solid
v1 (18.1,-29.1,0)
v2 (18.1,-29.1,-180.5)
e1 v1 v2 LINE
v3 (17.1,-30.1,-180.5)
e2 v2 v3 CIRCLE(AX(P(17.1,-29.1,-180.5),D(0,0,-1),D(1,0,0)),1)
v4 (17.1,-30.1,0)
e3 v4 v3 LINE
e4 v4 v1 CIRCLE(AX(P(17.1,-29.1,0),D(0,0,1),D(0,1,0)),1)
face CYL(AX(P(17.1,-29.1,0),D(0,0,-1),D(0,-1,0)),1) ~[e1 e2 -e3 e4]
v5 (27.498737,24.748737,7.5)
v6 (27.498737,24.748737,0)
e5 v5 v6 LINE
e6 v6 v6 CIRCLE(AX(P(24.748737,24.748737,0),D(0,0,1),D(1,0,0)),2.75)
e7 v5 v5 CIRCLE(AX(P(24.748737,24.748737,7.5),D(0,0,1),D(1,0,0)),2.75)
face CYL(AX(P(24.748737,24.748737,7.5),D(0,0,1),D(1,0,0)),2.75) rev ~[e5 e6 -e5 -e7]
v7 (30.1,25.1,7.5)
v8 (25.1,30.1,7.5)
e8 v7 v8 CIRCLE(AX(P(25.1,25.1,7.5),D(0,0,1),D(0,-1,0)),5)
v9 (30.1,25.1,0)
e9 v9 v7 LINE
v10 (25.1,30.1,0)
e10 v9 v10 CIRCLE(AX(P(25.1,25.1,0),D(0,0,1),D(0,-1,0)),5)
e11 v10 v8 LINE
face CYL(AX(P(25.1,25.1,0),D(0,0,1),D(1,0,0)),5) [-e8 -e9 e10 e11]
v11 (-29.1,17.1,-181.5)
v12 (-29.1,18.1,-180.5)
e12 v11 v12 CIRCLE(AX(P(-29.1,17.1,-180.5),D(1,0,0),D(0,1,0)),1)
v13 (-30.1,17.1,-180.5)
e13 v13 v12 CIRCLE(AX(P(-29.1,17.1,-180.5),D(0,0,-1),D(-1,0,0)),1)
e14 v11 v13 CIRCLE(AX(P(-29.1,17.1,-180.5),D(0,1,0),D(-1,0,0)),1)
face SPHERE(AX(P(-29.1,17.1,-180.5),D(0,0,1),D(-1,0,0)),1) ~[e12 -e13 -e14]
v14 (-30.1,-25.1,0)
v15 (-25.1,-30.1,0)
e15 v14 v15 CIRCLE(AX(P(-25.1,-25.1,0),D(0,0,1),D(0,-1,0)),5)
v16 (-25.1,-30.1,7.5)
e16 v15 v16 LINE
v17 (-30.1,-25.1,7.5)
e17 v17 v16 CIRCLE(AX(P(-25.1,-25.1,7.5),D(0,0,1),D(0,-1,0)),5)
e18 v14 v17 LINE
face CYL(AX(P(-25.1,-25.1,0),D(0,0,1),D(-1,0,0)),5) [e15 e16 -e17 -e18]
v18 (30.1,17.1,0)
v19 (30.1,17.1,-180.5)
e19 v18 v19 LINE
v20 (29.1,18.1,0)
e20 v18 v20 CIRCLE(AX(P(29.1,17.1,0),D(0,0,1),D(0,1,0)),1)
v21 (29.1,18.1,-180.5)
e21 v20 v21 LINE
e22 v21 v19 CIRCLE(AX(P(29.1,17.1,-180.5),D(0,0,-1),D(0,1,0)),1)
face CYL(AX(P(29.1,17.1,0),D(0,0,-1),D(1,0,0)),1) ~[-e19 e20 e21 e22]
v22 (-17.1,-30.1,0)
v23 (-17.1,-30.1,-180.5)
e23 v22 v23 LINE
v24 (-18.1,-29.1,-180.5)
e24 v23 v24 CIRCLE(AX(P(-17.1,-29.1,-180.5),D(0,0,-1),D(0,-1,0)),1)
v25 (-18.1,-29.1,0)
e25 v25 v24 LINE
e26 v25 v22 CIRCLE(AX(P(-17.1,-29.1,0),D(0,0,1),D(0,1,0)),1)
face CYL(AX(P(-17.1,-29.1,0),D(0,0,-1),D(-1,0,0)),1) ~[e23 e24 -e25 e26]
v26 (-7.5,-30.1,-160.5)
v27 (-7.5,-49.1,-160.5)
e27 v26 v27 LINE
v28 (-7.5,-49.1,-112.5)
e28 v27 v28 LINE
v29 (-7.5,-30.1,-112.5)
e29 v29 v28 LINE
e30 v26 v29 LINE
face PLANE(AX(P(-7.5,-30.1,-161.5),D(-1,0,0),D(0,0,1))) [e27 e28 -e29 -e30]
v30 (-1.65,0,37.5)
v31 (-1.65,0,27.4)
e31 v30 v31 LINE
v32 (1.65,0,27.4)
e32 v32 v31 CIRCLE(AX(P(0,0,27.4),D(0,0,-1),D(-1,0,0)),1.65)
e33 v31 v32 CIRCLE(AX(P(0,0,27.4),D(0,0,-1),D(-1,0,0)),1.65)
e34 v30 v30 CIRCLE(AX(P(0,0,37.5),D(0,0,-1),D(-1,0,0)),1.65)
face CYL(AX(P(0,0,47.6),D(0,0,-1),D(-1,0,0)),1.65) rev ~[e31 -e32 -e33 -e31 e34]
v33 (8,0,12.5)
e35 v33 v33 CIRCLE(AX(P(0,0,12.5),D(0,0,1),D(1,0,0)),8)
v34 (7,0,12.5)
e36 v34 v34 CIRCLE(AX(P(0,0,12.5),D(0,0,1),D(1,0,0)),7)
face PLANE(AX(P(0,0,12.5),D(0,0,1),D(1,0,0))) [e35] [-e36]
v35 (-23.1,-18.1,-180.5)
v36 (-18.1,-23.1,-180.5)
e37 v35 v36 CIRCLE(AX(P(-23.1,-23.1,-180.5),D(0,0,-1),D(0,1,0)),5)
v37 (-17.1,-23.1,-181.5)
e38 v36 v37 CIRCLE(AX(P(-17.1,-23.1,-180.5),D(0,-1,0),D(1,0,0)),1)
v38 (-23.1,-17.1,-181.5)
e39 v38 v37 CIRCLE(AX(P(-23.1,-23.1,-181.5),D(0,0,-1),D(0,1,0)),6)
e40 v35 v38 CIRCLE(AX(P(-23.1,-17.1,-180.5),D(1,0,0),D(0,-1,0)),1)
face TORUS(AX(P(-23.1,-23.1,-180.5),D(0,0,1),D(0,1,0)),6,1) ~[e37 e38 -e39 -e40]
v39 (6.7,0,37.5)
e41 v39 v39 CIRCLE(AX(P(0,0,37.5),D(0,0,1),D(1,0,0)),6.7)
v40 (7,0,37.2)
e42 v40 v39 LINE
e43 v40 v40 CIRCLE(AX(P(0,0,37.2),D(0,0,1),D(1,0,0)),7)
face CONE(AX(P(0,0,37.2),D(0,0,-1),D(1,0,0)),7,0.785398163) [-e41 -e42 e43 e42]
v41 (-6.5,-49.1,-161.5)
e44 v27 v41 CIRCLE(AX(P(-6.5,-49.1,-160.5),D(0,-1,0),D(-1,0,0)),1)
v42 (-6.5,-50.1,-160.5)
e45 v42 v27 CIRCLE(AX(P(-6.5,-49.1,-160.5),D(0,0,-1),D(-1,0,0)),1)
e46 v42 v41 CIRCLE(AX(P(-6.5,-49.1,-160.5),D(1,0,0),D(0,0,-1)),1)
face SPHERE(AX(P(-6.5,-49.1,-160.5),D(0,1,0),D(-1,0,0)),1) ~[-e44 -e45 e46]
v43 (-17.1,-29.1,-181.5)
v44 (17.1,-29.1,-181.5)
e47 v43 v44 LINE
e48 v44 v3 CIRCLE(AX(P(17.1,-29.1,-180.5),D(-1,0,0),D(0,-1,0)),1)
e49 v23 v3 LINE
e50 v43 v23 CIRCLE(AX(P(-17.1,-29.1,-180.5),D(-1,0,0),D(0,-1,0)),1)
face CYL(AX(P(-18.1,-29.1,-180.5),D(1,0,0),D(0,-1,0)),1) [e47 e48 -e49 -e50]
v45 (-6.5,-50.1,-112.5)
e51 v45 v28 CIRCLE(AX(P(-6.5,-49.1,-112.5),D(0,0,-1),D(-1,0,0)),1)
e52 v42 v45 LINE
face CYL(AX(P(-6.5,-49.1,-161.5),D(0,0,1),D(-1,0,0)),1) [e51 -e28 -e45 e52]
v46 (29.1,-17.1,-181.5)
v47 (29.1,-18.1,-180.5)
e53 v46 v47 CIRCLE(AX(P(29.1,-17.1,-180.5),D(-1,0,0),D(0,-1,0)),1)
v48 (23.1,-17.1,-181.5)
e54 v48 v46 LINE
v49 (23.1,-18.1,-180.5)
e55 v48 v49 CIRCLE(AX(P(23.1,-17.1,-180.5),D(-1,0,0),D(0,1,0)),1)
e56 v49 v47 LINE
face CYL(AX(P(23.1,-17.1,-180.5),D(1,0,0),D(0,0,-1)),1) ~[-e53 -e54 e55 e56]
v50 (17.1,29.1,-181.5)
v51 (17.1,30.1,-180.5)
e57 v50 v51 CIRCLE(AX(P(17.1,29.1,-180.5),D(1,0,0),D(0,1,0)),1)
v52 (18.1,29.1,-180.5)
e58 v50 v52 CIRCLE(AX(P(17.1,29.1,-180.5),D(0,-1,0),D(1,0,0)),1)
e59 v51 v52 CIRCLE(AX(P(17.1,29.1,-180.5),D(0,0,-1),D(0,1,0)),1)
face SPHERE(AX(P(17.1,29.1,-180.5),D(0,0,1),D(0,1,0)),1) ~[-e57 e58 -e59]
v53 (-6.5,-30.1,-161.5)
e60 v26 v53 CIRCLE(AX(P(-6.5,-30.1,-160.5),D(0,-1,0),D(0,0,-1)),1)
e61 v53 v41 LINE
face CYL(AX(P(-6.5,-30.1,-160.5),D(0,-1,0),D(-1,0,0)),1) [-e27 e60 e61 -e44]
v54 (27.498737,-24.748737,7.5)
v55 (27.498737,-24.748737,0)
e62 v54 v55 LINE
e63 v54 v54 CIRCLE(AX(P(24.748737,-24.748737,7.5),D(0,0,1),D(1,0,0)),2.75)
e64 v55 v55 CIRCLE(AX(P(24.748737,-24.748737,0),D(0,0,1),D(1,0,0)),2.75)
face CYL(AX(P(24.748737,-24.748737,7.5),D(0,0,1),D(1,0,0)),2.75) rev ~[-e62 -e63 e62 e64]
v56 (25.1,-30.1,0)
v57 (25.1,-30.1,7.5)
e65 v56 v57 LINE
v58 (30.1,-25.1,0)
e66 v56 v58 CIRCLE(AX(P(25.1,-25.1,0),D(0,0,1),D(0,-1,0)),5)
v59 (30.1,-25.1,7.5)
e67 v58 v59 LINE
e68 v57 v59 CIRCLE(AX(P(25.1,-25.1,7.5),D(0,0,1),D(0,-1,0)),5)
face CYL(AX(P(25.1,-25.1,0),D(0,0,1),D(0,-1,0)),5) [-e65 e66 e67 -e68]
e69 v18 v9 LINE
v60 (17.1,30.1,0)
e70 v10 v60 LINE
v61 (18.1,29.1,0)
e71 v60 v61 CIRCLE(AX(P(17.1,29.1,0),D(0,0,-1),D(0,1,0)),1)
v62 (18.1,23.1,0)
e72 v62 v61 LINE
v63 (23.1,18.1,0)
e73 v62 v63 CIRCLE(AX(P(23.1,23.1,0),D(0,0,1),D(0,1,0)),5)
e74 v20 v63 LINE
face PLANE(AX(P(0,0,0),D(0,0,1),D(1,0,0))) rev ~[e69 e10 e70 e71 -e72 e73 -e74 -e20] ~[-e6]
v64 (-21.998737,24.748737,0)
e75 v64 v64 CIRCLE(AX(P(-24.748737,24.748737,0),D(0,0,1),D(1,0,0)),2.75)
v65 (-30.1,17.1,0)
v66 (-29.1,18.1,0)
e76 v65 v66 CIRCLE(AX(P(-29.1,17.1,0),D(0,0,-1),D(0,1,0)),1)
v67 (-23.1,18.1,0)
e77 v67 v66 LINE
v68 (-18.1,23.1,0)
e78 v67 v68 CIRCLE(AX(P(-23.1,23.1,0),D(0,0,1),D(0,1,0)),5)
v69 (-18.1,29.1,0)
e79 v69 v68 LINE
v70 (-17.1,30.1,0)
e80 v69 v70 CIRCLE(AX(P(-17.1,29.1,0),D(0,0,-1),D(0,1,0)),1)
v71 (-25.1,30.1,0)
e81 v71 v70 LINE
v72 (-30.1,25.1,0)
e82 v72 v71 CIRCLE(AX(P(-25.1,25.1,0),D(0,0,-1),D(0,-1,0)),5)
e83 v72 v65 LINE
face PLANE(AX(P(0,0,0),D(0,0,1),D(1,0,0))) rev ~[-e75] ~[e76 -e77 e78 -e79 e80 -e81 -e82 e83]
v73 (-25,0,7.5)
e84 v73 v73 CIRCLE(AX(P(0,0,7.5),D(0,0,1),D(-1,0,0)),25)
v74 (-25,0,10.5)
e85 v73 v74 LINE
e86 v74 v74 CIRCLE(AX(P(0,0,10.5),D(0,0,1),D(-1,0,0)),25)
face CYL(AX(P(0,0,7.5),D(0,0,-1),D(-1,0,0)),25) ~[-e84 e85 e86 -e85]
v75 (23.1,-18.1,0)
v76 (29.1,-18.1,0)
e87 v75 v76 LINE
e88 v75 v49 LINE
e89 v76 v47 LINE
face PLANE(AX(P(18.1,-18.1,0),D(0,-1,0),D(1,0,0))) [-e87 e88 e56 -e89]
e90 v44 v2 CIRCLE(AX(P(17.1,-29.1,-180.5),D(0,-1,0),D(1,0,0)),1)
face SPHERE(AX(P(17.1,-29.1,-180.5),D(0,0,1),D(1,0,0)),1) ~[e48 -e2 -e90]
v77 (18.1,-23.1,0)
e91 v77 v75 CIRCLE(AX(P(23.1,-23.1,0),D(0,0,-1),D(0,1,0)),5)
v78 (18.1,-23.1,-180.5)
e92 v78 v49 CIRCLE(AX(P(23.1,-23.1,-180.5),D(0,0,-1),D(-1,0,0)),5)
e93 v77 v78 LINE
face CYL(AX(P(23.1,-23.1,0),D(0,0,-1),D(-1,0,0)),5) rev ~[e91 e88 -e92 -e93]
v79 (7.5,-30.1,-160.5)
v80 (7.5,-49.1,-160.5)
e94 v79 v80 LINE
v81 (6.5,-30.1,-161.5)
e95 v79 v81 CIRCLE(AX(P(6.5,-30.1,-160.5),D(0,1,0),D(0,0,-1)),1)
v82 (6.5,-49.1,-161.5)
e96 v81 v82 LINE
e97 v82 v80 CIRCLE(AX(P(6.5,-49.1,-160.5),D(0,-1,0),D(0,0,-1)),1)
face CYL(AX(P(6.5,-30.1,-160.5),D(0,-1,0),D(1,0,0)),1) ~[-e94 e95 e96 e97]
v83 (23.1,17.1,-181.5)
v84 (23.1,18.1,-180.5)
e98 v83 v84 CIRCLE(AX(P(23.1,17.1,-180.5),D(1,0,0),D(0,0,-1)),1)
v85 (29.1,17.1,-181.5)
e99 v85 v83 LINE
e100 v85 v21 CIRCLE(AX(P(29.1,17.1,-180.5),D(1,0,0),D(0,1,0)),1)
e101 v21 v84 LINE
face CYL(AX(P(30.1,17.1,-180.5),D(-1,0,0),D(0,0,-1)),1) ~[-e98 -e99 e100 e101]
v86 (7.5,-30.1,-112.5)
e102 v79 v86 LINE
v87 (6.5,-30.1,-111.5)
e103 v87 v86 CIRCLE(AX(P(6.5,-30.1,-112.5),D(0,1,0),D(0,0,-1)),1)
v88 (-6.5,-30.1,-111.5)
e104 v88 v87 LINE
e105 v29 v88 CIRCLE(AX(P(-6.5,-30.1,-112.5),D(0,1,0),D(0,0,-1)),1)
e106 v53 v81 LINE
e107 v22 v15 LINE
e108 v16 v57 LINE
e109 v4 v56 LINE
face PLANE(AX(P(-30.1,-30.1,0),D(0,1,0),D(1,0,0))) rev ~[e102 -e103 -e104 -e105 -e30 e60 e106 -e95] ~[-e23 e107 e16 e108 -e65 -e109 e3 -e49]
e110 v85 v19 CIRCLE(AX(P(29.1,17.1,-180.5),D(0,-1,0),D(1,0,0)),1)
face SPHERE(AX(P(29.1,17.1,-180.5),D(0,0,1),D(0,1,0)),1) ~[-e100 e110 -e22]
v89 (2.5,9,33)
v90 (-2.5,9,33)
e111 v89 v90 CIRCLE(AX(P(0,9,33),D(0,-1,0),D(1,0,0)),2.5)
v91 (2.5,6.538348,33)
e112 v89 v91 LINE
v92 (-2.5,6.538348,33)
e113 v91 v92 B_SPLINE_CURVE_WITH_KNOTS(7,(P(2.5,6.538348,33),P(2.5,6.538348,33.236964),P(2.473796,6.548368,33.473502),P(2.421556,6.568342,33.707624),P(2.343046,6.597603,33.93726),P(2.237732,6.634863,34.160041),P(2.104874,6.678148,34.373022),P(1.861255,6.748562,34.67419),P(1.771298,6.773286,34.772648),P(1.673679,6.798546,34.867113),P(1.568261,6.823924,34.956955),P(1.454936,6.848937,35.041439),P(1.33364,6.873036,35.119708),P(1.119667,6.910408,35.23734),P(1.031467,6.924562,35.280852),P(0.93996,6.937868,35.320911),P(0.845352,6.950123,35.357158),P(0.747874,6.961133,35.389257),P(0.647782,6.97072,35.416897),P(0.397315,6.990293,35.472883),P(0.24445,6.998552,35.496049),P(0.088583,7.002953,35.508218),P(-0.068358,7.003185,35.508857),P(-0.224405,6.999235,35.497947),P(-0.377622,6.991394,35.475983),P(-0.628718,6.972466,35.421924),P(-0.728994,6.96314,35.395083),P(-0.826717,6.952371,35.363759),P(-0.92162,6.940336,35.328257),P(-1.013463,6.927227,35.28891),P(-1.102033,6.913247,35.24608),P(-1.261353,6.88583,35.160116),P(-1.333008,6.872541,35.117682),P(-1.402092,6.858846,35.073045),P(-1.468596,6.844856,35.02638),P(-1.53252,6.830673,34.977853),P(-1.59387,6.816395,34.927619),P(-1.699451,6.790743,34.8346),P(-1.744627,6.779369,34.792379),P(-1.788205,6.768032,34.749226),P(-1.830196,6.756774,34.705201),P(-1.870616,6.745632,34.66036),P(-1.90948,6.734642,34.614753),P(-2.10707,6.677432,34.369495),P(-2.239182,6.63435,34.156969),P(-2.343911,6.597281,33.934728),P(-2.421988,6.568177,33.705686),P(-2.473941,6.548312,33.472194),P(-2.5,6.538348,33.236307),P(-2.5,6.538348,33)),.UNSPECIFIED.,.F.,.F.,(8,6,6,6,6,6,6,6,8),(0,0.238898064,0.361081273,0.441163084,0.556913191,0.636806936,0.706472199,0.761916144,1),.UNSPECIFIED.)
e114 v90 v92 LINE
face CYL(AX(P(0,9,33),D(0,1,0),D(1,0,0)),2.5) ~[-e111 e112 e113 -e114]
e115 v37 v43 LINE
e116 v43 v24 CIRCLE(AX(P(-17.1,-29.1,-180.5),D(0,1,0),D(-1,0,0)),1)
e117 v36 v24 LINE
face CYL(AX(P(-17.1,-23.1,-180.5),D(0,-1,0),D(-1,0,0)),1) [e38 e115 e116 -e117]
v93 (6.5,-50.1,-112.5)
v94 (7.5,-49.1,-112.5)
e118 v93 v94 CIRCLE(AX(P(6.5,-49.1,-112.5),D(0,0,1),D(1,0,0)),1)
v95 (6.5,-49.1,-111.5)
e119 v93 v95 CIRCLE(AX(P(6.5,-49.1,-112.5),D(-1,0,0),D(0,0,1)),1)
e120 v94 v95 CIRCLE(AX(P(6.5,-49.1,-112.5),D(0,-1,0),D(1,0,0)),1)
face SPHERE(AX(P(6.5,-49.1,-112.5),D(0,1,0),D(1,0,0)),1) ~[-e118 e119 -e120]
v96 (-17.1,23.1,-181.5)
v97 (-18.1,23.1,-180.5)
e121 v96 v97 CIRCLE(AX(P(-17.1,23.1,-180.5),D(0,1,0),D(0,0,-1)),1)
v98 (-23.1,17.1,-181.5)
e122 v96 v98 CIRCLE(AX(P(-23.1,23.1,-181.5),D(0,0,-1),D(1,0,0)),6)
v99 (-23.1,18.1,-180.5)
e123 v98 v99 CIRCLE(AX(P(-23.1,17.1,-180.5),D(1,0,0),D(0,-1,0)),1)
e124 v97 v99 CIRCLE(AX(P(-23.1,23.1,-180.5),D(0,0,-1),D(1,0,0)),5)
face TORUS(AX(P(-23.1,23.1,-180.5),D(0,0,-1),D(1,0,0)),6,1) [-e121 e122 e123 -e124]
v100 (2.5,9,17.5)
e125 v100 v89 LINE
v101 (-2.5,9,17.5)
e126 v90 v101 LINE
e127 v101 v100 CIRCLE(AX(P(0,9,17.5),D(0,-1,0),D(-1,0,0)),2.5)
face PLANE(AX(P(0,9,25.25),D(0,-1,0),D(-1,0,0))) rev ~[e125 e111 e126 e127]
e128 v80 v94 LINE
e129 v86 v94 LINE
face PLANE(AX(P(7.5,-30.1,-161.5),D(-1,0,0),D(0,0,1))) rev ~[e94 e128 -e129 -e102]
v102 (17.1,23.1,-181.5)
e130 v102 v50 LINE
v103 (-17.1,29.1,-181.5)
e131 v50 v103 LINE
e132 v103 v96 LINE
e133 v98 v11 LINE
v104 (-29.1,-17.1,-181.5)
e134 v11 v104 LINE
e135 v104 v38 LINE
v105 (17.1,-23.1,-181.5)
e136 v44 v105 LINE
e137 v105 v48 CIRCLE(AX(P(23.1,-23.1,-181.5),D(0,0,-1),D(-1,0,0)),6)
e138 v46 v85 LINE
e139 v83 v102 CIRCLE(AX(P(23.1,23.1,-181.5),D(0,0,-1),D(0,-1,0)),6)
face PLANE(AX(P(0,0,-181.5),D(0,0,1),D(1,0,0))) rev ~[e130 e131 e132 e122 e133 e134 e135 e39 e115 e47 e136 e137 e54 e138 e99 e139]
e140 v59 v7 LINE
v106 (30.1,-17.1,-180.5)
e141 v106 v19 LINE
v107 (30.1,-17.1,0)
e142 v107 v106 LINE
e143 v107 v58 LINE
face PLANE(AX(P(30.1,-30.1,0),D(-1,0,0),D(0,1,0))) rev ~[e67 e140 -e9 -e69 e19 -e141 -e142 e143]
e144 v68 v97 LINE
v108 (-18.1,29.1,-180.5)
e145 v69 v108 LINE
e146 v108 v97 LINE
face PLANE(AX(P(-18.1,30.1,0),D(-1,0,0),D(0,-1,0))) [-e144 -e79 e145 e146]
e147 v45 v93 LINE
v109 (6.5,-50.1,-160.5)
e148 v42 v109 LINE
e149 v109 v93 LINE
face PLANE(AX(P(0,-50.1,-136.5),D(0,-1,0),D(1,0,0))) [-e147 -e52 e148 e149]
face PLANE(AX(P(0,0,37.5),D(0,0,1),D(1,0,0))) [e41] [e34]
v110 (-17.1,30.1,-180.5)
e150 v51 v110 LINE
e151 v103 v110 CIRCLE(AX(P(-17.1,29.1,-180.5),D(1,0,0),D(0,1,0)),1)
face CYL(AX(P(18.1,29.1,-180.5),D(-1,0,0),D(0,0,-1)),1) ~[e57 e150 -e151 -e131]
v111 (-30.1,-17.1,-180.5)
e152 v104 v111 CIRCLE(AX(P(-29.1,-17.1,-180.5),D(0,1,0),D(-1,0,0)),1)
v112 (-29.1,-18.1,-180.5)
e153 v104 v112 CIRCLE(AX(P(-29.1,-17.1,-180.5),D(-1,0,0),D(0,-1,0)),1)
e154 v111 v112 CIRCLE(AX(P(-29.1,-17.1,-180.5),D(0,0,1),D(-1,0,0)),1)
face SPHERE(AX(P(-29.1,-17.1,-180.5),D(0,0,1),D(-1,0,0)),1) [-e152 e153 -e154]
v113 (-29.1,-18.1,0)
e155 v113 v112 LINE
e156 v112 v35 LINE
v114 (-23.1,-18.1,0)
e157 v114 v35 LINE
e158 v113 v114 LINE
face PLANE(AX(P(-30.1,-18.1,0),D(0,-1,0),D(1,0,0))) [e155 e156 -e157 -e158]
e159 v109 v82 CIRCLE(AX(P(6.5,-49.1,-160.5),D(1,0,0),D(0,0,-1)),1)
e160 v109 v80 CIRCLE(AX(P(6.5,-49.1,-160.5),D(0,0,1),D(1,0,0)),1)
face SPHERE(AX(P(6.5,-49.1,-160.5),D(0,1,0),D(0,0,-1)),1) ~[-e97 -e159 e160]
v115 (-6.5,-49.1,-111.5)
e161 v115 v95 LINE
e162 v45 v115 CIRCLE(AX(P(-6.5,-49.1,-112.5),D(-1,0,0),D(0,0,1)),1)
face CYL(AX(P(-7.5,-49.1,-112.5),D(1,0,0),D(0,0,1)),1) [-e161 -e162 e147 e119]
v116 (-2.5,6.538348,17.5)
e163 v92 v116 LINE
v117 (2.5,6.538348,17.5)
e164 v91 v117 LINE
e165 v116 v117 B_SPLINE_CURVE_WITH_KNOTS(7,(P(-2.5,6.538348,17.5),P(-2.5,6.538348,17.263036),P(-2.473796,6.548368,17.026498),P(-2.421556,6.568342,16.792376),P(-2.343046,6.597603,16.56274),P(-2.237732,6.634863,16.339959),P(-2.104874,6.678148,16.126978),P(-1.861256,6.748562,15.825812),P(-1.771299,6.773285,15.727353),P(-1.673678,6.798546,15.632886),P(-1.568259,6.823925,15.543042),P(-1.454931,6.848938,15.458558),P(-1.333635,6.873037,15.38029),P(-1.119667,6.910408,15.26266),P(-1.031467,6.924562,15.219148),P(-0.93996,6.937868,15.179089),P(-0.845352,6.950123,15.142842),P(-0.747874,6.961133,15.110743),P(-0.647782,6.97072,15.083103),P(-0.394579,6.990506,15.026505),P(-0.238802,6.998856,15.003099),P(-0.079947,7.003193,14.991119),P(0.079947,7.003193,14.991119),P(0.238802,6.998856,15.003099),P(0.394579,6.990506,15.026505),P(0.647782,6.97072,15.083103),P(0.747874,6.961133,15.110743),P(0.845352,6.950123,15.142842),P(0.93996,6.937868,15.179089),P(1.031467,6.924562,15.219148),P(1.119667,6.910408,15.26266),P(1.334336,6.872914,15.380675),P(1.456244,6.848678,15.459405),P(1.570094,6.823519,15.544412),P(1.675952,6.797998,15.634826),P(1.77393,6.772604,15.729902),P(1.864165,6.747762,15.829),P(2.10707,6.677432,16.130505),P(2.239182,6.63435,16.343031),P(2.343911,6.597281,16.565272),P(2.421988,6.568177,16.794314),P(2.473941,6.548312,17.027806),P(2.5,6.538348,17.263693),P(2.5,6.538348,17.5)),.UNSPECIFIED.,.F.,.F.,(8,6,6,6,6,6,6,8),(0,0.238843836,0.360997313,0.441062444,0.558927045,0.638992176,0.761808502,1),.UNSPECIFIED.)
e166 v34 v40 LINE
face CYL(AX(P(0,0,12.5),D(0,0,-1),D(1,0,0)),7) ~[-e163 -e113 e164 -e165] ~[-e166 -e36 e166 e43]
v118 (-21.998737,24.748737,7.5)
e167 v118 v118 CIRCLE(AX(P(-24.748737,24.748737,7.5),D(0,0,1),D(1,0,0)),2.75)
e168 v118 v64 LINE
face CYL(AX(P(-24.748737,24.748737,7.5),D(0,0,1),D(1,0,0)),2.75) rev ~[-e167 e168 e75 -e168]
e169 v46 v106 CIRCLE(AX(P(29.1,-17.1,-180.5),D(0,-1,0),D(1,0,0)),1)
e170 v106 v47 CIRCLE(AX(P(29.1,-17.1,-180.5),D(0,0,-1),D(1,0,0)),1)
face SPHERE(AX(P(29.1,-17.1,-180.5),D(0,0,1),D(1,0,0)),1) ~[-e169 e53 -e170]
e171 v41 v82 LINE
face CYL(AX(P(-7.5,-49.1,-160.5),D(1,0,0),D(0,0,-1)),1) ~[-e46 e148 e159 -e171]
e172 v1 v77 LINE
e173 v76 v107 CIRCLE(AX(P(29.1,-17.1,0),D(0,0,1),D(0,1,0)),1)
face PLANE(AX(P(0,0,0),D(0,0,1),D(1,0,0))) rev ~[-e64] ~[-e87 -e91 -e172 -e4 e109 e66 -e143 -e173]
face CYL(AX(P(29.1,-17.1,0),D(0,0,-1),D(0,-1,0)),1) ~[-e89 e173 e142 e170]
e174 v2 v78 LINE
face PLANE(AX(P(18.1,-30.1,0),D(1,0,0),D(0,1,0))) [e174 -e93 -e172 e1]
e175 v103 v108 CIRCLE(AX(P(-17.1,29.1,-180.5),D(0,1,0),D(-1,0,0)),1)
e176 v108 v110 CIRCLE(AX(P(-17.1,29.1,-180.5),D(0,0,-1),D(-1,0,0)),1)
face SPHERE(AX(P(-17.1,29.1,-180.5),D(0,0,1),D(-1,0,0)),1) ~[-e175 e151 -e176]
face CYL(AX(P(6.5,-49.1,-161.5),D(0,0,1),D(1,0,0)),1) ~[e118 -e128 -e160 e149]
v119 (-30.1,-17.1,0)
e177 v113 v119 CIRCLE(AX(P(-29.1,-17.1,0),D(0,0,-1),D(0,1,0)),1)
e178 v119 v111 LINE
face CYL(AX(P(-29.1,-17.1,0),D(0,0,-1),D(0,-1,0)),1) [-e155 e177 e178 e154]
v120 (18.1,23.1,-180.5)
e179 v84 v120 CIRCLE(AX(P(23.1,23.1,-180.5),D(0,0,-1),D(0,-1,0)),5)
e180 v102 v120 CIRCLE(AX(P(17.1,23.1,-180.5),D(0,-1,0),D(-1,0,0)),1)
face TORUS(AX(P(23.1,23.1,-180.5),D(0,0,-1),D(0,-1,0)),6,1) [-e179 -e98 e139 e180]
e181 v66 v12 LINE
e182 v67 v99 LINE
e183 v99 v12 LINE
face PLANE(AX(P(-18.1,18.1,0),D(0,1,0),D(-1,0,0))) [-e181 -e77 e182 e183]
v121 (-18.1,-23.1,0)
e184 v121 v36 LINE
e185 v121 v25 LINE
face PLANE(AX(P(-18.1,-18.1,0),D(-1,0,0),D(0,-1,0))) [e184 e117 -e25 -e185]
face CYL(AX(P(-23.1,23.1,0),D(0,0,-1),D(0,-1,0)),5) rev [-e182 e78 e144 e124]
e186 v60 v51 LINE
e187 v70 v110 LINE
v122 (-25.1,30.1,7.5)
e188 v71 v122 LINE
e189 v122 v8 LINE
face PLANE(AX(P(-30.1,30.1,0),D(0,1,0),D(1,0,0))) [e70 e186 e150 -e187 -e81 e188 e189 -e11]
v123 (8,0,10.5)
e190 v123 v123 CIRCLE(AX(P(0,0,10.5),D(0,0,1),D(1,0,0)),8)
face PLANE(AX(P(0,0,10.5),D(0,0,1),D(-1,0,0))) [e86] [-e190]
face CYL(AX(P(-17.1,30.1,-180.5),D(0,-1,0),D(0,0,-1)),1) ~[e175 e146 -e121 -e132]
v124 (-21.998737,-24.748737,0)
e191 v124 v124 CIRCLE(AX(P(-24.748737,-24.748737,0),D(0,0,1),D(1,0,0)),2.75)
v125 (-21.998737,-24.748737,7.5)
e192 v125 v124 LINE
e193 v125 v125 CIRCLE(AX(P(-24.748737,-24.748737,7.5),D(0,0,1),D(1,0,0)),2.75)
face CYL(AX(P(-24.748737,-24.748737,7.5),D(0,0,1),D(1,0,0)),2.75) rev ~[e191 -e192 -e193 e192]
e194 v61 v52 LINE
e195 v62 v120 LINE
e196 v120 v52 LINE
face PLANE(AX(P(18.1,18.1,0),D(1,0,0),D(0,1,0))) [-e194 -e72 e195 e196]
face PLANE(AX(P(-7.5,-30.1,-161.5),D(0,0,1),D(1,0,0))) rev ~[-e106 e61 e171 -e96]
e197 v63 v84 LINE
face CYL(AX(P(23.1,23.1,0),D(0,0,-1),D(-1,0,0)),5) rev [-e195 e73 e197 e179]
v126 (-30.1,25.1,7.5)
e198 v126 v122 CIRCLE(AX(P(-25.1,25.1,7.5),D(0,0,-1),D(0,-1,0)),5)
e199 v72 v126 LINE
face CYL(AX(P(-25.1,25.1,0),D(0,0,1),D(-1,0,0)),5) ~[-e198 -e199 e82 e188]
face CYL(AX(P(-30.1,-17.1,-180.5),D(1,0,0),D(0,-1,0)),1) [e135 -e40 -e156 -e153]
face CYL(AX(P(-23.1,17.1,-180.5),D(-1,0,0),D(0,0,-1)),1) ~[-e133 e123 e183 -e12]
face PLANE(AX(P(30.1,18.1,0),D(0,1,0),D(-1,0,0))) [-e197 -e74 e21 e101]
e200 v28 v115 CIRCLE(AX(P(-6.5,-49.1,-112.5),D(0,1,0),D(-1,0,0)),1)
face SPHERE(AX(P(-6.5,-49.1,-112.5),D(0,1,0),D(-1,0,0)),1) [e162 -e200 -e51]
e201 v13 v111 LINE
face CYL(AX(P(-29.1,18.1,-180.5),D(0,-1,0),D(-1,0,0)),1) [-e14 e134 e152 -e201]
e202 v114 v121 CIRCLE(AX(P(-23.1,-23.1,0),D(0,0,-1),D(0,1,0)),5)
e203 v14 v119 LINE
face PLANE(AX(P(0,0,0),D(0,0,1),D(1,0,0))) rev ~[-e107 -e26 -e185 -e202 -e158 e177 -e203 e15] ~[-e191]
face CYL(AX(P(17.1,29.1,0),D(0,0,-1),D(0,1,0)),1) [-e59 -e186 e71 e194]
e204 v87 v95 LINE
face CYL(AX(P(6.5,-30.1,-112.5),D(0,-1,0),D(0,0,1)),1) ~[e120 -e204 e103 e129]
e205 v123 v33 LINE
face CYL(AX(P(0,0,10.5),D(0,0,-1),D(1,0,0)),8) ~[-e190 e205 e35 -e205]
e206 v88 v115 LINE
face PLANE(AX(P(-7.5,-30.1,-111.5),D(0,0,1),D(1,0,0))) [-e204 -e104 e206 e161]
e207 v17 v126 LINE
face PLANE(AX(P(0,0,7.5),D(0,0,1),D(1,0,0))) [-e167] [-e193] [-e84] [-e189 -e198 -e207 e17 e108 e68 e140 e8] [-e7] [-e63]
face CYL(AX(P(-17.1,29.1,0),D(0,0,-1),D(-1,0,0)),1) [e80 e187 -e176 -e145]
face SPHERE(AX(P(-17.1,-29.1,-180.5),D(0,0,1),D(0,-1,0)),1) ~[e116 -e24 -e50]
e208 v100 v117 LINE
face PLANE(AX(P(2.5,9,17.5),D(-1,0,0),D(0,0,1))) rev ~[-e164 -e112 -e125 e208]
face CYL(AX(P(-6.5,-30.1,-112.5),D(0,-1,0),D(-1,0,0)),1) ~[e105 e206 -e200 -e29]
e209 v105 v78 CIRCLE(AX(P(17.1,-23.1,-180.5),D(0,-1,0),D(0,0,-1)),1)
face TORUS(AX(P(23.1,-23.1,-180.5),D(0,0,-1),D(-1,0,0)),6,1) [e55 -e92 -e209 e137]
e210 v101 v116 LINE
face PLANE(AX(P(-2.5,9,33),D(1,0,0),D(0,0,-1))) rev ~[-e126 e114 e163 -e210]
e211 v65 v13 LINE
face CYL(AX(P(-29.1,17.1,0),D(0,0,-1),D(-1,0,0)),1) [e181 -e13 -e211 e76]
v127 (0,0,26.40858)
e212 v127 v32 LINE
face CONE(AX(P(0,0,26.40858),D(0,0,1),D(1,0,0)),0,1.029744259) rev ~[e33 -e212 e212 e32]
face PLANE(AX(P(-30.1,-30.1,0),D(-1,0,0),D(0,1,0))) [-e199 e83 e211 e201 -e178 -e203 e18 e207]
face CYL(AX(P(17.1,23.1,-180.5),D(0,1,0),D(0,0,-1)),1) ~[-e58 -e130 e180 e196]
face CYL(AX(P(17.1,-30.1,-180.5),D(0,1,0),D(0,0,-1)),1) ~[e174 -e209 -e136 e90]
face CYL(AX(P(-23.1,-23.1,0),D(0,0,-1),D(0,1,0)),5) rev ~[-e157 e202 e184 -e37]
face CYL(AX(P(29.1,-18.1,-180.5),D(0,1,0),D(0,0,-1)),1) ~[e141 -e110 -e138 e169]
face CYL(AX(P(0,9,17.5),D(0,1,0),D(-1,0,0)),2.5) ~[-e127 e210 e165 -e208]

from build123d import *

# Parameters (mm, degrees)
SKETCH_1_W             = 60.2
SKETCH_1_H             = 60.2
EXTRUDE_1_DEPTH        = 7.5
FILLET_1_R             = 5
SKETCH_2_R             = 2.75
CUT_EXTRUDE_1_DEPTH    = 44.223488985
SKETCH_3_R             = 25
EXTRUDE_2_DEPTH        = 3
SKETCH_4_R             = 8
EXTRUDE_3_DEPTH        = 2
SKETCH_5_R             = 7
EXTRUDE_4_DEPTH        = 25
HOLE_WIZARD_M4_2_D     = 3.3
HOLE_WIZARD_M4_2_DEPTH = 10.1
HOLE_WIZARD_M4_2_TIP   = 0.991420021
CHAMFER_1_SIZE         = 0.3
EXTRUDE_5_DEPTH        = 5
EXTRUDE_6_DEPTH        = 181.5
FILLET_2_R             = 5
SKETCH_13_W            = 15
SKETCH_13_H            = 50
EXTRUDE_7_DEPTH        = 20
FILLET_3_R             = 1


with BuildPart() as part:
    # 草图1 → 凸台-拉伸1 (new body)
    with BuildSketch(Plane.XY):
        Rectangle(SKETCH_1_W, SKETCH_1_H)
    extrude(amount=EXTRUDE_1_DEPTH)

    # 圆角1
    fillet_1_edges = [part.edges().sort_by_distance(p)[0] for p in [
        (30.1, -30.1, 3.75),
        (-30.1, -30.1, 3.75),
        (-30.1, 30.1, 3.75),
        (30.1, 30.1, 3.75),
    ]]
    fillet(fillet_1_edges, radius=FILLET_1_R)

    # 草图2 → 切除-拉伸1 (cut, through all)
    with BuildSketch(Plane.XY.offset(7.5)):
        with Locations((-24.748737342, 24.748737342)):
            Circle(SKETCH_2_R)
        with Locations((24.748737342, 24.748737342)):
            Circle(SKETCH_2_R)
        with Locations((24.748737342, -24.748737342)):
            Circle(SKETCH_2_R)
        with Locations((-24.748737342, -24.748737342)):
            Circle(SKETCH_2_R)
    extrude(amount=-CUT_EXTRUDE_1_DEPTH, mode=Mode.SUBTRACT)

    # 草图3 → 凸台-拉伸2 (add)
    with BuildSketch(Plane.XY.offset(7.5)):
        with Locations(Location((0, 0, 0), (0, 0, 180))):
            Circle(SKETCH_3_R)
    extrude(amount=EXTRUDE_2_DEPTH)

    # 草图4 → 凸台-拉伸3 (add)
    with BuildSketch(Plane.XY.offset(10.5)):
        Circle(SKETCH_4_R)
    extrude(amount=EXTRUDE_3_DEPTH)

    # 草图5 → 凸台-拉伸4 (add)
    with BuildSketch(Plane.XY.offset(12.5)):
        Circle(SKETCH_5_R)
    extrude(amount=EXTRUDE_4_DEPTH)

    # M4 螺纹孔2
    with Locations(Plane.XY.offset(37.5)):
        with Locations((0, 0)):
            Hole(HOLE_WIZARD_M4_2_D / 2, depth=HOLE_WIZARD_M4_2_DEPTH)
            with Locations((0, 0, -(HOLE_WIZARD_M4_2_DEPTH + HOLE_WIZARD_M4_2_TIP / 2))):  # 118° drill point
                Cone(0, HOLE_WIZARD_M4_2_D / 2, HOLE_WIZARD_M4_2_TIP, mode=Mode.SUBTRACT)

    # 倒角1
    chamfer_1_edges = [part.edges().sort_by_distance(p)[0] for p in [
        (-7, 0, 37.5),
    ]]
    chamfer(chamfer_1_edges, length=CHAMFER_1_SIZE)

    # 草图10 → 凸台-拉伸5 (add)
    with BuildSketch(Plane(origin=(0, 9, 0), x_dir=(1, 0, 0), z_dir=(0, 1, 0))):
        with BuildLine():
            Line((-2.5, -33), (-2.5, -17.5))
            ThreePointArc((-2.5, -17.5), (0, -15), (2.5, -17.5))
            Line((2.5, -17.5), (2.5, -33))
            ThreePointArc((2.5, -33), (0, -35.5), (-2.5, -33))
        make_face()
    extrude(amount=-EXTRUDE_5_DEPTH)

    # 草图12 → 凸台-拉伸6 (add)
    with BuildSketch(Plane(origin=(0, 0, 0), x_dir=(-1, 0, 0), z_dir=(0, 0, -1))):
        Polygon((30.1, -18.1), (18.1, -18.1), (18.1, -30.1), (-18.1, -30.1), (-18.1, -18.1), (-30.1, -18.1), (-30.1, 18.1), (-18.1, 18.1), (-18.1, 30.1), (18.1, 30.1), (18.1, 18.1), (30.1, 18.1), align=None)
    extrude(amount=EXTRUDE_6_DEPTH)

    # 圆角2
    fillet_2_edges = [part.edges().sort_by_distance(p)[0] for p in [
        (-18.1, 18.1, -90.75),
        (18.1, 18.1, -90.75),
        (18.1, -18.1, -90.75),
        (-18.1, -18.1, -90.75),
    ]]
    fillet(fillet_2_edges, radius=FILLET_2_R)

    # 草图13 → 凸台-拉伸7 (add)
    with BuildSketch(Plane.XZ.offset(30.1)):
        with Locations((0, -136.5)):
            Rectangle(SKETCH_13_W, SKETCH_13_H)
    extrude(amount=EXTRUDE_7_DEPTH)

    # 圆角3
    fillet_3_edges = [part.edges().sort_by_distance(p)[0] for p in [
        (-30.1, -18.1, -90.75),
        (-30.1, 18.1, -90.75),
        (-18.1, 30.1, -90.75),
        (18.1, 30.1, -90.75),
        (30.1, 18.1, -90.75),
        (30.1, -18.1, -90.75),
        (18.1, -30.1, -90.75),
        (-18.1, -30.1, -90.75),
        (-30.1, 0, -181.5),
        (-26.6, 18.1, -181.5),
        (0, 30.1, -181.5),
        (18.1, 26.6, -181.5),
        (30.1, 0, -181.5),
        (26.6, -18.1, -181.5),
        (0, -30.1, -181.5),
        (-18.1, -26.6, -181.5),
        (-26.6, -18.1, -181.5),
        (-18.1, 26.6, -181.5),
        (26.6, 18.1, -181.5),
        (18.1, -26.6, -181.5),
        (-19.564466094, -19.564466094, -181.5),
        (-19.564466094, 19.564466094, -181.5),
        (19.564466094, 19.564466094, -181.5),
        (19.564466094, -19.564466094, -181.5),
        (-7.5, -40.1, -111.5),
        (-7.5, -40.1, -161.5),
        (7.5, -40.1, -161.5),
        (7.5, -40.1, -111.5),
        (-7.5, -50.1, -136.5),
        (0, -50.1, -161.5),
        (7.5, -50.1, -136.5),
        (0, -50.1, -111.5),
    ]]
    fillet(fillet_3_edges, radius=FILLET_3_R)


solid = part.part
